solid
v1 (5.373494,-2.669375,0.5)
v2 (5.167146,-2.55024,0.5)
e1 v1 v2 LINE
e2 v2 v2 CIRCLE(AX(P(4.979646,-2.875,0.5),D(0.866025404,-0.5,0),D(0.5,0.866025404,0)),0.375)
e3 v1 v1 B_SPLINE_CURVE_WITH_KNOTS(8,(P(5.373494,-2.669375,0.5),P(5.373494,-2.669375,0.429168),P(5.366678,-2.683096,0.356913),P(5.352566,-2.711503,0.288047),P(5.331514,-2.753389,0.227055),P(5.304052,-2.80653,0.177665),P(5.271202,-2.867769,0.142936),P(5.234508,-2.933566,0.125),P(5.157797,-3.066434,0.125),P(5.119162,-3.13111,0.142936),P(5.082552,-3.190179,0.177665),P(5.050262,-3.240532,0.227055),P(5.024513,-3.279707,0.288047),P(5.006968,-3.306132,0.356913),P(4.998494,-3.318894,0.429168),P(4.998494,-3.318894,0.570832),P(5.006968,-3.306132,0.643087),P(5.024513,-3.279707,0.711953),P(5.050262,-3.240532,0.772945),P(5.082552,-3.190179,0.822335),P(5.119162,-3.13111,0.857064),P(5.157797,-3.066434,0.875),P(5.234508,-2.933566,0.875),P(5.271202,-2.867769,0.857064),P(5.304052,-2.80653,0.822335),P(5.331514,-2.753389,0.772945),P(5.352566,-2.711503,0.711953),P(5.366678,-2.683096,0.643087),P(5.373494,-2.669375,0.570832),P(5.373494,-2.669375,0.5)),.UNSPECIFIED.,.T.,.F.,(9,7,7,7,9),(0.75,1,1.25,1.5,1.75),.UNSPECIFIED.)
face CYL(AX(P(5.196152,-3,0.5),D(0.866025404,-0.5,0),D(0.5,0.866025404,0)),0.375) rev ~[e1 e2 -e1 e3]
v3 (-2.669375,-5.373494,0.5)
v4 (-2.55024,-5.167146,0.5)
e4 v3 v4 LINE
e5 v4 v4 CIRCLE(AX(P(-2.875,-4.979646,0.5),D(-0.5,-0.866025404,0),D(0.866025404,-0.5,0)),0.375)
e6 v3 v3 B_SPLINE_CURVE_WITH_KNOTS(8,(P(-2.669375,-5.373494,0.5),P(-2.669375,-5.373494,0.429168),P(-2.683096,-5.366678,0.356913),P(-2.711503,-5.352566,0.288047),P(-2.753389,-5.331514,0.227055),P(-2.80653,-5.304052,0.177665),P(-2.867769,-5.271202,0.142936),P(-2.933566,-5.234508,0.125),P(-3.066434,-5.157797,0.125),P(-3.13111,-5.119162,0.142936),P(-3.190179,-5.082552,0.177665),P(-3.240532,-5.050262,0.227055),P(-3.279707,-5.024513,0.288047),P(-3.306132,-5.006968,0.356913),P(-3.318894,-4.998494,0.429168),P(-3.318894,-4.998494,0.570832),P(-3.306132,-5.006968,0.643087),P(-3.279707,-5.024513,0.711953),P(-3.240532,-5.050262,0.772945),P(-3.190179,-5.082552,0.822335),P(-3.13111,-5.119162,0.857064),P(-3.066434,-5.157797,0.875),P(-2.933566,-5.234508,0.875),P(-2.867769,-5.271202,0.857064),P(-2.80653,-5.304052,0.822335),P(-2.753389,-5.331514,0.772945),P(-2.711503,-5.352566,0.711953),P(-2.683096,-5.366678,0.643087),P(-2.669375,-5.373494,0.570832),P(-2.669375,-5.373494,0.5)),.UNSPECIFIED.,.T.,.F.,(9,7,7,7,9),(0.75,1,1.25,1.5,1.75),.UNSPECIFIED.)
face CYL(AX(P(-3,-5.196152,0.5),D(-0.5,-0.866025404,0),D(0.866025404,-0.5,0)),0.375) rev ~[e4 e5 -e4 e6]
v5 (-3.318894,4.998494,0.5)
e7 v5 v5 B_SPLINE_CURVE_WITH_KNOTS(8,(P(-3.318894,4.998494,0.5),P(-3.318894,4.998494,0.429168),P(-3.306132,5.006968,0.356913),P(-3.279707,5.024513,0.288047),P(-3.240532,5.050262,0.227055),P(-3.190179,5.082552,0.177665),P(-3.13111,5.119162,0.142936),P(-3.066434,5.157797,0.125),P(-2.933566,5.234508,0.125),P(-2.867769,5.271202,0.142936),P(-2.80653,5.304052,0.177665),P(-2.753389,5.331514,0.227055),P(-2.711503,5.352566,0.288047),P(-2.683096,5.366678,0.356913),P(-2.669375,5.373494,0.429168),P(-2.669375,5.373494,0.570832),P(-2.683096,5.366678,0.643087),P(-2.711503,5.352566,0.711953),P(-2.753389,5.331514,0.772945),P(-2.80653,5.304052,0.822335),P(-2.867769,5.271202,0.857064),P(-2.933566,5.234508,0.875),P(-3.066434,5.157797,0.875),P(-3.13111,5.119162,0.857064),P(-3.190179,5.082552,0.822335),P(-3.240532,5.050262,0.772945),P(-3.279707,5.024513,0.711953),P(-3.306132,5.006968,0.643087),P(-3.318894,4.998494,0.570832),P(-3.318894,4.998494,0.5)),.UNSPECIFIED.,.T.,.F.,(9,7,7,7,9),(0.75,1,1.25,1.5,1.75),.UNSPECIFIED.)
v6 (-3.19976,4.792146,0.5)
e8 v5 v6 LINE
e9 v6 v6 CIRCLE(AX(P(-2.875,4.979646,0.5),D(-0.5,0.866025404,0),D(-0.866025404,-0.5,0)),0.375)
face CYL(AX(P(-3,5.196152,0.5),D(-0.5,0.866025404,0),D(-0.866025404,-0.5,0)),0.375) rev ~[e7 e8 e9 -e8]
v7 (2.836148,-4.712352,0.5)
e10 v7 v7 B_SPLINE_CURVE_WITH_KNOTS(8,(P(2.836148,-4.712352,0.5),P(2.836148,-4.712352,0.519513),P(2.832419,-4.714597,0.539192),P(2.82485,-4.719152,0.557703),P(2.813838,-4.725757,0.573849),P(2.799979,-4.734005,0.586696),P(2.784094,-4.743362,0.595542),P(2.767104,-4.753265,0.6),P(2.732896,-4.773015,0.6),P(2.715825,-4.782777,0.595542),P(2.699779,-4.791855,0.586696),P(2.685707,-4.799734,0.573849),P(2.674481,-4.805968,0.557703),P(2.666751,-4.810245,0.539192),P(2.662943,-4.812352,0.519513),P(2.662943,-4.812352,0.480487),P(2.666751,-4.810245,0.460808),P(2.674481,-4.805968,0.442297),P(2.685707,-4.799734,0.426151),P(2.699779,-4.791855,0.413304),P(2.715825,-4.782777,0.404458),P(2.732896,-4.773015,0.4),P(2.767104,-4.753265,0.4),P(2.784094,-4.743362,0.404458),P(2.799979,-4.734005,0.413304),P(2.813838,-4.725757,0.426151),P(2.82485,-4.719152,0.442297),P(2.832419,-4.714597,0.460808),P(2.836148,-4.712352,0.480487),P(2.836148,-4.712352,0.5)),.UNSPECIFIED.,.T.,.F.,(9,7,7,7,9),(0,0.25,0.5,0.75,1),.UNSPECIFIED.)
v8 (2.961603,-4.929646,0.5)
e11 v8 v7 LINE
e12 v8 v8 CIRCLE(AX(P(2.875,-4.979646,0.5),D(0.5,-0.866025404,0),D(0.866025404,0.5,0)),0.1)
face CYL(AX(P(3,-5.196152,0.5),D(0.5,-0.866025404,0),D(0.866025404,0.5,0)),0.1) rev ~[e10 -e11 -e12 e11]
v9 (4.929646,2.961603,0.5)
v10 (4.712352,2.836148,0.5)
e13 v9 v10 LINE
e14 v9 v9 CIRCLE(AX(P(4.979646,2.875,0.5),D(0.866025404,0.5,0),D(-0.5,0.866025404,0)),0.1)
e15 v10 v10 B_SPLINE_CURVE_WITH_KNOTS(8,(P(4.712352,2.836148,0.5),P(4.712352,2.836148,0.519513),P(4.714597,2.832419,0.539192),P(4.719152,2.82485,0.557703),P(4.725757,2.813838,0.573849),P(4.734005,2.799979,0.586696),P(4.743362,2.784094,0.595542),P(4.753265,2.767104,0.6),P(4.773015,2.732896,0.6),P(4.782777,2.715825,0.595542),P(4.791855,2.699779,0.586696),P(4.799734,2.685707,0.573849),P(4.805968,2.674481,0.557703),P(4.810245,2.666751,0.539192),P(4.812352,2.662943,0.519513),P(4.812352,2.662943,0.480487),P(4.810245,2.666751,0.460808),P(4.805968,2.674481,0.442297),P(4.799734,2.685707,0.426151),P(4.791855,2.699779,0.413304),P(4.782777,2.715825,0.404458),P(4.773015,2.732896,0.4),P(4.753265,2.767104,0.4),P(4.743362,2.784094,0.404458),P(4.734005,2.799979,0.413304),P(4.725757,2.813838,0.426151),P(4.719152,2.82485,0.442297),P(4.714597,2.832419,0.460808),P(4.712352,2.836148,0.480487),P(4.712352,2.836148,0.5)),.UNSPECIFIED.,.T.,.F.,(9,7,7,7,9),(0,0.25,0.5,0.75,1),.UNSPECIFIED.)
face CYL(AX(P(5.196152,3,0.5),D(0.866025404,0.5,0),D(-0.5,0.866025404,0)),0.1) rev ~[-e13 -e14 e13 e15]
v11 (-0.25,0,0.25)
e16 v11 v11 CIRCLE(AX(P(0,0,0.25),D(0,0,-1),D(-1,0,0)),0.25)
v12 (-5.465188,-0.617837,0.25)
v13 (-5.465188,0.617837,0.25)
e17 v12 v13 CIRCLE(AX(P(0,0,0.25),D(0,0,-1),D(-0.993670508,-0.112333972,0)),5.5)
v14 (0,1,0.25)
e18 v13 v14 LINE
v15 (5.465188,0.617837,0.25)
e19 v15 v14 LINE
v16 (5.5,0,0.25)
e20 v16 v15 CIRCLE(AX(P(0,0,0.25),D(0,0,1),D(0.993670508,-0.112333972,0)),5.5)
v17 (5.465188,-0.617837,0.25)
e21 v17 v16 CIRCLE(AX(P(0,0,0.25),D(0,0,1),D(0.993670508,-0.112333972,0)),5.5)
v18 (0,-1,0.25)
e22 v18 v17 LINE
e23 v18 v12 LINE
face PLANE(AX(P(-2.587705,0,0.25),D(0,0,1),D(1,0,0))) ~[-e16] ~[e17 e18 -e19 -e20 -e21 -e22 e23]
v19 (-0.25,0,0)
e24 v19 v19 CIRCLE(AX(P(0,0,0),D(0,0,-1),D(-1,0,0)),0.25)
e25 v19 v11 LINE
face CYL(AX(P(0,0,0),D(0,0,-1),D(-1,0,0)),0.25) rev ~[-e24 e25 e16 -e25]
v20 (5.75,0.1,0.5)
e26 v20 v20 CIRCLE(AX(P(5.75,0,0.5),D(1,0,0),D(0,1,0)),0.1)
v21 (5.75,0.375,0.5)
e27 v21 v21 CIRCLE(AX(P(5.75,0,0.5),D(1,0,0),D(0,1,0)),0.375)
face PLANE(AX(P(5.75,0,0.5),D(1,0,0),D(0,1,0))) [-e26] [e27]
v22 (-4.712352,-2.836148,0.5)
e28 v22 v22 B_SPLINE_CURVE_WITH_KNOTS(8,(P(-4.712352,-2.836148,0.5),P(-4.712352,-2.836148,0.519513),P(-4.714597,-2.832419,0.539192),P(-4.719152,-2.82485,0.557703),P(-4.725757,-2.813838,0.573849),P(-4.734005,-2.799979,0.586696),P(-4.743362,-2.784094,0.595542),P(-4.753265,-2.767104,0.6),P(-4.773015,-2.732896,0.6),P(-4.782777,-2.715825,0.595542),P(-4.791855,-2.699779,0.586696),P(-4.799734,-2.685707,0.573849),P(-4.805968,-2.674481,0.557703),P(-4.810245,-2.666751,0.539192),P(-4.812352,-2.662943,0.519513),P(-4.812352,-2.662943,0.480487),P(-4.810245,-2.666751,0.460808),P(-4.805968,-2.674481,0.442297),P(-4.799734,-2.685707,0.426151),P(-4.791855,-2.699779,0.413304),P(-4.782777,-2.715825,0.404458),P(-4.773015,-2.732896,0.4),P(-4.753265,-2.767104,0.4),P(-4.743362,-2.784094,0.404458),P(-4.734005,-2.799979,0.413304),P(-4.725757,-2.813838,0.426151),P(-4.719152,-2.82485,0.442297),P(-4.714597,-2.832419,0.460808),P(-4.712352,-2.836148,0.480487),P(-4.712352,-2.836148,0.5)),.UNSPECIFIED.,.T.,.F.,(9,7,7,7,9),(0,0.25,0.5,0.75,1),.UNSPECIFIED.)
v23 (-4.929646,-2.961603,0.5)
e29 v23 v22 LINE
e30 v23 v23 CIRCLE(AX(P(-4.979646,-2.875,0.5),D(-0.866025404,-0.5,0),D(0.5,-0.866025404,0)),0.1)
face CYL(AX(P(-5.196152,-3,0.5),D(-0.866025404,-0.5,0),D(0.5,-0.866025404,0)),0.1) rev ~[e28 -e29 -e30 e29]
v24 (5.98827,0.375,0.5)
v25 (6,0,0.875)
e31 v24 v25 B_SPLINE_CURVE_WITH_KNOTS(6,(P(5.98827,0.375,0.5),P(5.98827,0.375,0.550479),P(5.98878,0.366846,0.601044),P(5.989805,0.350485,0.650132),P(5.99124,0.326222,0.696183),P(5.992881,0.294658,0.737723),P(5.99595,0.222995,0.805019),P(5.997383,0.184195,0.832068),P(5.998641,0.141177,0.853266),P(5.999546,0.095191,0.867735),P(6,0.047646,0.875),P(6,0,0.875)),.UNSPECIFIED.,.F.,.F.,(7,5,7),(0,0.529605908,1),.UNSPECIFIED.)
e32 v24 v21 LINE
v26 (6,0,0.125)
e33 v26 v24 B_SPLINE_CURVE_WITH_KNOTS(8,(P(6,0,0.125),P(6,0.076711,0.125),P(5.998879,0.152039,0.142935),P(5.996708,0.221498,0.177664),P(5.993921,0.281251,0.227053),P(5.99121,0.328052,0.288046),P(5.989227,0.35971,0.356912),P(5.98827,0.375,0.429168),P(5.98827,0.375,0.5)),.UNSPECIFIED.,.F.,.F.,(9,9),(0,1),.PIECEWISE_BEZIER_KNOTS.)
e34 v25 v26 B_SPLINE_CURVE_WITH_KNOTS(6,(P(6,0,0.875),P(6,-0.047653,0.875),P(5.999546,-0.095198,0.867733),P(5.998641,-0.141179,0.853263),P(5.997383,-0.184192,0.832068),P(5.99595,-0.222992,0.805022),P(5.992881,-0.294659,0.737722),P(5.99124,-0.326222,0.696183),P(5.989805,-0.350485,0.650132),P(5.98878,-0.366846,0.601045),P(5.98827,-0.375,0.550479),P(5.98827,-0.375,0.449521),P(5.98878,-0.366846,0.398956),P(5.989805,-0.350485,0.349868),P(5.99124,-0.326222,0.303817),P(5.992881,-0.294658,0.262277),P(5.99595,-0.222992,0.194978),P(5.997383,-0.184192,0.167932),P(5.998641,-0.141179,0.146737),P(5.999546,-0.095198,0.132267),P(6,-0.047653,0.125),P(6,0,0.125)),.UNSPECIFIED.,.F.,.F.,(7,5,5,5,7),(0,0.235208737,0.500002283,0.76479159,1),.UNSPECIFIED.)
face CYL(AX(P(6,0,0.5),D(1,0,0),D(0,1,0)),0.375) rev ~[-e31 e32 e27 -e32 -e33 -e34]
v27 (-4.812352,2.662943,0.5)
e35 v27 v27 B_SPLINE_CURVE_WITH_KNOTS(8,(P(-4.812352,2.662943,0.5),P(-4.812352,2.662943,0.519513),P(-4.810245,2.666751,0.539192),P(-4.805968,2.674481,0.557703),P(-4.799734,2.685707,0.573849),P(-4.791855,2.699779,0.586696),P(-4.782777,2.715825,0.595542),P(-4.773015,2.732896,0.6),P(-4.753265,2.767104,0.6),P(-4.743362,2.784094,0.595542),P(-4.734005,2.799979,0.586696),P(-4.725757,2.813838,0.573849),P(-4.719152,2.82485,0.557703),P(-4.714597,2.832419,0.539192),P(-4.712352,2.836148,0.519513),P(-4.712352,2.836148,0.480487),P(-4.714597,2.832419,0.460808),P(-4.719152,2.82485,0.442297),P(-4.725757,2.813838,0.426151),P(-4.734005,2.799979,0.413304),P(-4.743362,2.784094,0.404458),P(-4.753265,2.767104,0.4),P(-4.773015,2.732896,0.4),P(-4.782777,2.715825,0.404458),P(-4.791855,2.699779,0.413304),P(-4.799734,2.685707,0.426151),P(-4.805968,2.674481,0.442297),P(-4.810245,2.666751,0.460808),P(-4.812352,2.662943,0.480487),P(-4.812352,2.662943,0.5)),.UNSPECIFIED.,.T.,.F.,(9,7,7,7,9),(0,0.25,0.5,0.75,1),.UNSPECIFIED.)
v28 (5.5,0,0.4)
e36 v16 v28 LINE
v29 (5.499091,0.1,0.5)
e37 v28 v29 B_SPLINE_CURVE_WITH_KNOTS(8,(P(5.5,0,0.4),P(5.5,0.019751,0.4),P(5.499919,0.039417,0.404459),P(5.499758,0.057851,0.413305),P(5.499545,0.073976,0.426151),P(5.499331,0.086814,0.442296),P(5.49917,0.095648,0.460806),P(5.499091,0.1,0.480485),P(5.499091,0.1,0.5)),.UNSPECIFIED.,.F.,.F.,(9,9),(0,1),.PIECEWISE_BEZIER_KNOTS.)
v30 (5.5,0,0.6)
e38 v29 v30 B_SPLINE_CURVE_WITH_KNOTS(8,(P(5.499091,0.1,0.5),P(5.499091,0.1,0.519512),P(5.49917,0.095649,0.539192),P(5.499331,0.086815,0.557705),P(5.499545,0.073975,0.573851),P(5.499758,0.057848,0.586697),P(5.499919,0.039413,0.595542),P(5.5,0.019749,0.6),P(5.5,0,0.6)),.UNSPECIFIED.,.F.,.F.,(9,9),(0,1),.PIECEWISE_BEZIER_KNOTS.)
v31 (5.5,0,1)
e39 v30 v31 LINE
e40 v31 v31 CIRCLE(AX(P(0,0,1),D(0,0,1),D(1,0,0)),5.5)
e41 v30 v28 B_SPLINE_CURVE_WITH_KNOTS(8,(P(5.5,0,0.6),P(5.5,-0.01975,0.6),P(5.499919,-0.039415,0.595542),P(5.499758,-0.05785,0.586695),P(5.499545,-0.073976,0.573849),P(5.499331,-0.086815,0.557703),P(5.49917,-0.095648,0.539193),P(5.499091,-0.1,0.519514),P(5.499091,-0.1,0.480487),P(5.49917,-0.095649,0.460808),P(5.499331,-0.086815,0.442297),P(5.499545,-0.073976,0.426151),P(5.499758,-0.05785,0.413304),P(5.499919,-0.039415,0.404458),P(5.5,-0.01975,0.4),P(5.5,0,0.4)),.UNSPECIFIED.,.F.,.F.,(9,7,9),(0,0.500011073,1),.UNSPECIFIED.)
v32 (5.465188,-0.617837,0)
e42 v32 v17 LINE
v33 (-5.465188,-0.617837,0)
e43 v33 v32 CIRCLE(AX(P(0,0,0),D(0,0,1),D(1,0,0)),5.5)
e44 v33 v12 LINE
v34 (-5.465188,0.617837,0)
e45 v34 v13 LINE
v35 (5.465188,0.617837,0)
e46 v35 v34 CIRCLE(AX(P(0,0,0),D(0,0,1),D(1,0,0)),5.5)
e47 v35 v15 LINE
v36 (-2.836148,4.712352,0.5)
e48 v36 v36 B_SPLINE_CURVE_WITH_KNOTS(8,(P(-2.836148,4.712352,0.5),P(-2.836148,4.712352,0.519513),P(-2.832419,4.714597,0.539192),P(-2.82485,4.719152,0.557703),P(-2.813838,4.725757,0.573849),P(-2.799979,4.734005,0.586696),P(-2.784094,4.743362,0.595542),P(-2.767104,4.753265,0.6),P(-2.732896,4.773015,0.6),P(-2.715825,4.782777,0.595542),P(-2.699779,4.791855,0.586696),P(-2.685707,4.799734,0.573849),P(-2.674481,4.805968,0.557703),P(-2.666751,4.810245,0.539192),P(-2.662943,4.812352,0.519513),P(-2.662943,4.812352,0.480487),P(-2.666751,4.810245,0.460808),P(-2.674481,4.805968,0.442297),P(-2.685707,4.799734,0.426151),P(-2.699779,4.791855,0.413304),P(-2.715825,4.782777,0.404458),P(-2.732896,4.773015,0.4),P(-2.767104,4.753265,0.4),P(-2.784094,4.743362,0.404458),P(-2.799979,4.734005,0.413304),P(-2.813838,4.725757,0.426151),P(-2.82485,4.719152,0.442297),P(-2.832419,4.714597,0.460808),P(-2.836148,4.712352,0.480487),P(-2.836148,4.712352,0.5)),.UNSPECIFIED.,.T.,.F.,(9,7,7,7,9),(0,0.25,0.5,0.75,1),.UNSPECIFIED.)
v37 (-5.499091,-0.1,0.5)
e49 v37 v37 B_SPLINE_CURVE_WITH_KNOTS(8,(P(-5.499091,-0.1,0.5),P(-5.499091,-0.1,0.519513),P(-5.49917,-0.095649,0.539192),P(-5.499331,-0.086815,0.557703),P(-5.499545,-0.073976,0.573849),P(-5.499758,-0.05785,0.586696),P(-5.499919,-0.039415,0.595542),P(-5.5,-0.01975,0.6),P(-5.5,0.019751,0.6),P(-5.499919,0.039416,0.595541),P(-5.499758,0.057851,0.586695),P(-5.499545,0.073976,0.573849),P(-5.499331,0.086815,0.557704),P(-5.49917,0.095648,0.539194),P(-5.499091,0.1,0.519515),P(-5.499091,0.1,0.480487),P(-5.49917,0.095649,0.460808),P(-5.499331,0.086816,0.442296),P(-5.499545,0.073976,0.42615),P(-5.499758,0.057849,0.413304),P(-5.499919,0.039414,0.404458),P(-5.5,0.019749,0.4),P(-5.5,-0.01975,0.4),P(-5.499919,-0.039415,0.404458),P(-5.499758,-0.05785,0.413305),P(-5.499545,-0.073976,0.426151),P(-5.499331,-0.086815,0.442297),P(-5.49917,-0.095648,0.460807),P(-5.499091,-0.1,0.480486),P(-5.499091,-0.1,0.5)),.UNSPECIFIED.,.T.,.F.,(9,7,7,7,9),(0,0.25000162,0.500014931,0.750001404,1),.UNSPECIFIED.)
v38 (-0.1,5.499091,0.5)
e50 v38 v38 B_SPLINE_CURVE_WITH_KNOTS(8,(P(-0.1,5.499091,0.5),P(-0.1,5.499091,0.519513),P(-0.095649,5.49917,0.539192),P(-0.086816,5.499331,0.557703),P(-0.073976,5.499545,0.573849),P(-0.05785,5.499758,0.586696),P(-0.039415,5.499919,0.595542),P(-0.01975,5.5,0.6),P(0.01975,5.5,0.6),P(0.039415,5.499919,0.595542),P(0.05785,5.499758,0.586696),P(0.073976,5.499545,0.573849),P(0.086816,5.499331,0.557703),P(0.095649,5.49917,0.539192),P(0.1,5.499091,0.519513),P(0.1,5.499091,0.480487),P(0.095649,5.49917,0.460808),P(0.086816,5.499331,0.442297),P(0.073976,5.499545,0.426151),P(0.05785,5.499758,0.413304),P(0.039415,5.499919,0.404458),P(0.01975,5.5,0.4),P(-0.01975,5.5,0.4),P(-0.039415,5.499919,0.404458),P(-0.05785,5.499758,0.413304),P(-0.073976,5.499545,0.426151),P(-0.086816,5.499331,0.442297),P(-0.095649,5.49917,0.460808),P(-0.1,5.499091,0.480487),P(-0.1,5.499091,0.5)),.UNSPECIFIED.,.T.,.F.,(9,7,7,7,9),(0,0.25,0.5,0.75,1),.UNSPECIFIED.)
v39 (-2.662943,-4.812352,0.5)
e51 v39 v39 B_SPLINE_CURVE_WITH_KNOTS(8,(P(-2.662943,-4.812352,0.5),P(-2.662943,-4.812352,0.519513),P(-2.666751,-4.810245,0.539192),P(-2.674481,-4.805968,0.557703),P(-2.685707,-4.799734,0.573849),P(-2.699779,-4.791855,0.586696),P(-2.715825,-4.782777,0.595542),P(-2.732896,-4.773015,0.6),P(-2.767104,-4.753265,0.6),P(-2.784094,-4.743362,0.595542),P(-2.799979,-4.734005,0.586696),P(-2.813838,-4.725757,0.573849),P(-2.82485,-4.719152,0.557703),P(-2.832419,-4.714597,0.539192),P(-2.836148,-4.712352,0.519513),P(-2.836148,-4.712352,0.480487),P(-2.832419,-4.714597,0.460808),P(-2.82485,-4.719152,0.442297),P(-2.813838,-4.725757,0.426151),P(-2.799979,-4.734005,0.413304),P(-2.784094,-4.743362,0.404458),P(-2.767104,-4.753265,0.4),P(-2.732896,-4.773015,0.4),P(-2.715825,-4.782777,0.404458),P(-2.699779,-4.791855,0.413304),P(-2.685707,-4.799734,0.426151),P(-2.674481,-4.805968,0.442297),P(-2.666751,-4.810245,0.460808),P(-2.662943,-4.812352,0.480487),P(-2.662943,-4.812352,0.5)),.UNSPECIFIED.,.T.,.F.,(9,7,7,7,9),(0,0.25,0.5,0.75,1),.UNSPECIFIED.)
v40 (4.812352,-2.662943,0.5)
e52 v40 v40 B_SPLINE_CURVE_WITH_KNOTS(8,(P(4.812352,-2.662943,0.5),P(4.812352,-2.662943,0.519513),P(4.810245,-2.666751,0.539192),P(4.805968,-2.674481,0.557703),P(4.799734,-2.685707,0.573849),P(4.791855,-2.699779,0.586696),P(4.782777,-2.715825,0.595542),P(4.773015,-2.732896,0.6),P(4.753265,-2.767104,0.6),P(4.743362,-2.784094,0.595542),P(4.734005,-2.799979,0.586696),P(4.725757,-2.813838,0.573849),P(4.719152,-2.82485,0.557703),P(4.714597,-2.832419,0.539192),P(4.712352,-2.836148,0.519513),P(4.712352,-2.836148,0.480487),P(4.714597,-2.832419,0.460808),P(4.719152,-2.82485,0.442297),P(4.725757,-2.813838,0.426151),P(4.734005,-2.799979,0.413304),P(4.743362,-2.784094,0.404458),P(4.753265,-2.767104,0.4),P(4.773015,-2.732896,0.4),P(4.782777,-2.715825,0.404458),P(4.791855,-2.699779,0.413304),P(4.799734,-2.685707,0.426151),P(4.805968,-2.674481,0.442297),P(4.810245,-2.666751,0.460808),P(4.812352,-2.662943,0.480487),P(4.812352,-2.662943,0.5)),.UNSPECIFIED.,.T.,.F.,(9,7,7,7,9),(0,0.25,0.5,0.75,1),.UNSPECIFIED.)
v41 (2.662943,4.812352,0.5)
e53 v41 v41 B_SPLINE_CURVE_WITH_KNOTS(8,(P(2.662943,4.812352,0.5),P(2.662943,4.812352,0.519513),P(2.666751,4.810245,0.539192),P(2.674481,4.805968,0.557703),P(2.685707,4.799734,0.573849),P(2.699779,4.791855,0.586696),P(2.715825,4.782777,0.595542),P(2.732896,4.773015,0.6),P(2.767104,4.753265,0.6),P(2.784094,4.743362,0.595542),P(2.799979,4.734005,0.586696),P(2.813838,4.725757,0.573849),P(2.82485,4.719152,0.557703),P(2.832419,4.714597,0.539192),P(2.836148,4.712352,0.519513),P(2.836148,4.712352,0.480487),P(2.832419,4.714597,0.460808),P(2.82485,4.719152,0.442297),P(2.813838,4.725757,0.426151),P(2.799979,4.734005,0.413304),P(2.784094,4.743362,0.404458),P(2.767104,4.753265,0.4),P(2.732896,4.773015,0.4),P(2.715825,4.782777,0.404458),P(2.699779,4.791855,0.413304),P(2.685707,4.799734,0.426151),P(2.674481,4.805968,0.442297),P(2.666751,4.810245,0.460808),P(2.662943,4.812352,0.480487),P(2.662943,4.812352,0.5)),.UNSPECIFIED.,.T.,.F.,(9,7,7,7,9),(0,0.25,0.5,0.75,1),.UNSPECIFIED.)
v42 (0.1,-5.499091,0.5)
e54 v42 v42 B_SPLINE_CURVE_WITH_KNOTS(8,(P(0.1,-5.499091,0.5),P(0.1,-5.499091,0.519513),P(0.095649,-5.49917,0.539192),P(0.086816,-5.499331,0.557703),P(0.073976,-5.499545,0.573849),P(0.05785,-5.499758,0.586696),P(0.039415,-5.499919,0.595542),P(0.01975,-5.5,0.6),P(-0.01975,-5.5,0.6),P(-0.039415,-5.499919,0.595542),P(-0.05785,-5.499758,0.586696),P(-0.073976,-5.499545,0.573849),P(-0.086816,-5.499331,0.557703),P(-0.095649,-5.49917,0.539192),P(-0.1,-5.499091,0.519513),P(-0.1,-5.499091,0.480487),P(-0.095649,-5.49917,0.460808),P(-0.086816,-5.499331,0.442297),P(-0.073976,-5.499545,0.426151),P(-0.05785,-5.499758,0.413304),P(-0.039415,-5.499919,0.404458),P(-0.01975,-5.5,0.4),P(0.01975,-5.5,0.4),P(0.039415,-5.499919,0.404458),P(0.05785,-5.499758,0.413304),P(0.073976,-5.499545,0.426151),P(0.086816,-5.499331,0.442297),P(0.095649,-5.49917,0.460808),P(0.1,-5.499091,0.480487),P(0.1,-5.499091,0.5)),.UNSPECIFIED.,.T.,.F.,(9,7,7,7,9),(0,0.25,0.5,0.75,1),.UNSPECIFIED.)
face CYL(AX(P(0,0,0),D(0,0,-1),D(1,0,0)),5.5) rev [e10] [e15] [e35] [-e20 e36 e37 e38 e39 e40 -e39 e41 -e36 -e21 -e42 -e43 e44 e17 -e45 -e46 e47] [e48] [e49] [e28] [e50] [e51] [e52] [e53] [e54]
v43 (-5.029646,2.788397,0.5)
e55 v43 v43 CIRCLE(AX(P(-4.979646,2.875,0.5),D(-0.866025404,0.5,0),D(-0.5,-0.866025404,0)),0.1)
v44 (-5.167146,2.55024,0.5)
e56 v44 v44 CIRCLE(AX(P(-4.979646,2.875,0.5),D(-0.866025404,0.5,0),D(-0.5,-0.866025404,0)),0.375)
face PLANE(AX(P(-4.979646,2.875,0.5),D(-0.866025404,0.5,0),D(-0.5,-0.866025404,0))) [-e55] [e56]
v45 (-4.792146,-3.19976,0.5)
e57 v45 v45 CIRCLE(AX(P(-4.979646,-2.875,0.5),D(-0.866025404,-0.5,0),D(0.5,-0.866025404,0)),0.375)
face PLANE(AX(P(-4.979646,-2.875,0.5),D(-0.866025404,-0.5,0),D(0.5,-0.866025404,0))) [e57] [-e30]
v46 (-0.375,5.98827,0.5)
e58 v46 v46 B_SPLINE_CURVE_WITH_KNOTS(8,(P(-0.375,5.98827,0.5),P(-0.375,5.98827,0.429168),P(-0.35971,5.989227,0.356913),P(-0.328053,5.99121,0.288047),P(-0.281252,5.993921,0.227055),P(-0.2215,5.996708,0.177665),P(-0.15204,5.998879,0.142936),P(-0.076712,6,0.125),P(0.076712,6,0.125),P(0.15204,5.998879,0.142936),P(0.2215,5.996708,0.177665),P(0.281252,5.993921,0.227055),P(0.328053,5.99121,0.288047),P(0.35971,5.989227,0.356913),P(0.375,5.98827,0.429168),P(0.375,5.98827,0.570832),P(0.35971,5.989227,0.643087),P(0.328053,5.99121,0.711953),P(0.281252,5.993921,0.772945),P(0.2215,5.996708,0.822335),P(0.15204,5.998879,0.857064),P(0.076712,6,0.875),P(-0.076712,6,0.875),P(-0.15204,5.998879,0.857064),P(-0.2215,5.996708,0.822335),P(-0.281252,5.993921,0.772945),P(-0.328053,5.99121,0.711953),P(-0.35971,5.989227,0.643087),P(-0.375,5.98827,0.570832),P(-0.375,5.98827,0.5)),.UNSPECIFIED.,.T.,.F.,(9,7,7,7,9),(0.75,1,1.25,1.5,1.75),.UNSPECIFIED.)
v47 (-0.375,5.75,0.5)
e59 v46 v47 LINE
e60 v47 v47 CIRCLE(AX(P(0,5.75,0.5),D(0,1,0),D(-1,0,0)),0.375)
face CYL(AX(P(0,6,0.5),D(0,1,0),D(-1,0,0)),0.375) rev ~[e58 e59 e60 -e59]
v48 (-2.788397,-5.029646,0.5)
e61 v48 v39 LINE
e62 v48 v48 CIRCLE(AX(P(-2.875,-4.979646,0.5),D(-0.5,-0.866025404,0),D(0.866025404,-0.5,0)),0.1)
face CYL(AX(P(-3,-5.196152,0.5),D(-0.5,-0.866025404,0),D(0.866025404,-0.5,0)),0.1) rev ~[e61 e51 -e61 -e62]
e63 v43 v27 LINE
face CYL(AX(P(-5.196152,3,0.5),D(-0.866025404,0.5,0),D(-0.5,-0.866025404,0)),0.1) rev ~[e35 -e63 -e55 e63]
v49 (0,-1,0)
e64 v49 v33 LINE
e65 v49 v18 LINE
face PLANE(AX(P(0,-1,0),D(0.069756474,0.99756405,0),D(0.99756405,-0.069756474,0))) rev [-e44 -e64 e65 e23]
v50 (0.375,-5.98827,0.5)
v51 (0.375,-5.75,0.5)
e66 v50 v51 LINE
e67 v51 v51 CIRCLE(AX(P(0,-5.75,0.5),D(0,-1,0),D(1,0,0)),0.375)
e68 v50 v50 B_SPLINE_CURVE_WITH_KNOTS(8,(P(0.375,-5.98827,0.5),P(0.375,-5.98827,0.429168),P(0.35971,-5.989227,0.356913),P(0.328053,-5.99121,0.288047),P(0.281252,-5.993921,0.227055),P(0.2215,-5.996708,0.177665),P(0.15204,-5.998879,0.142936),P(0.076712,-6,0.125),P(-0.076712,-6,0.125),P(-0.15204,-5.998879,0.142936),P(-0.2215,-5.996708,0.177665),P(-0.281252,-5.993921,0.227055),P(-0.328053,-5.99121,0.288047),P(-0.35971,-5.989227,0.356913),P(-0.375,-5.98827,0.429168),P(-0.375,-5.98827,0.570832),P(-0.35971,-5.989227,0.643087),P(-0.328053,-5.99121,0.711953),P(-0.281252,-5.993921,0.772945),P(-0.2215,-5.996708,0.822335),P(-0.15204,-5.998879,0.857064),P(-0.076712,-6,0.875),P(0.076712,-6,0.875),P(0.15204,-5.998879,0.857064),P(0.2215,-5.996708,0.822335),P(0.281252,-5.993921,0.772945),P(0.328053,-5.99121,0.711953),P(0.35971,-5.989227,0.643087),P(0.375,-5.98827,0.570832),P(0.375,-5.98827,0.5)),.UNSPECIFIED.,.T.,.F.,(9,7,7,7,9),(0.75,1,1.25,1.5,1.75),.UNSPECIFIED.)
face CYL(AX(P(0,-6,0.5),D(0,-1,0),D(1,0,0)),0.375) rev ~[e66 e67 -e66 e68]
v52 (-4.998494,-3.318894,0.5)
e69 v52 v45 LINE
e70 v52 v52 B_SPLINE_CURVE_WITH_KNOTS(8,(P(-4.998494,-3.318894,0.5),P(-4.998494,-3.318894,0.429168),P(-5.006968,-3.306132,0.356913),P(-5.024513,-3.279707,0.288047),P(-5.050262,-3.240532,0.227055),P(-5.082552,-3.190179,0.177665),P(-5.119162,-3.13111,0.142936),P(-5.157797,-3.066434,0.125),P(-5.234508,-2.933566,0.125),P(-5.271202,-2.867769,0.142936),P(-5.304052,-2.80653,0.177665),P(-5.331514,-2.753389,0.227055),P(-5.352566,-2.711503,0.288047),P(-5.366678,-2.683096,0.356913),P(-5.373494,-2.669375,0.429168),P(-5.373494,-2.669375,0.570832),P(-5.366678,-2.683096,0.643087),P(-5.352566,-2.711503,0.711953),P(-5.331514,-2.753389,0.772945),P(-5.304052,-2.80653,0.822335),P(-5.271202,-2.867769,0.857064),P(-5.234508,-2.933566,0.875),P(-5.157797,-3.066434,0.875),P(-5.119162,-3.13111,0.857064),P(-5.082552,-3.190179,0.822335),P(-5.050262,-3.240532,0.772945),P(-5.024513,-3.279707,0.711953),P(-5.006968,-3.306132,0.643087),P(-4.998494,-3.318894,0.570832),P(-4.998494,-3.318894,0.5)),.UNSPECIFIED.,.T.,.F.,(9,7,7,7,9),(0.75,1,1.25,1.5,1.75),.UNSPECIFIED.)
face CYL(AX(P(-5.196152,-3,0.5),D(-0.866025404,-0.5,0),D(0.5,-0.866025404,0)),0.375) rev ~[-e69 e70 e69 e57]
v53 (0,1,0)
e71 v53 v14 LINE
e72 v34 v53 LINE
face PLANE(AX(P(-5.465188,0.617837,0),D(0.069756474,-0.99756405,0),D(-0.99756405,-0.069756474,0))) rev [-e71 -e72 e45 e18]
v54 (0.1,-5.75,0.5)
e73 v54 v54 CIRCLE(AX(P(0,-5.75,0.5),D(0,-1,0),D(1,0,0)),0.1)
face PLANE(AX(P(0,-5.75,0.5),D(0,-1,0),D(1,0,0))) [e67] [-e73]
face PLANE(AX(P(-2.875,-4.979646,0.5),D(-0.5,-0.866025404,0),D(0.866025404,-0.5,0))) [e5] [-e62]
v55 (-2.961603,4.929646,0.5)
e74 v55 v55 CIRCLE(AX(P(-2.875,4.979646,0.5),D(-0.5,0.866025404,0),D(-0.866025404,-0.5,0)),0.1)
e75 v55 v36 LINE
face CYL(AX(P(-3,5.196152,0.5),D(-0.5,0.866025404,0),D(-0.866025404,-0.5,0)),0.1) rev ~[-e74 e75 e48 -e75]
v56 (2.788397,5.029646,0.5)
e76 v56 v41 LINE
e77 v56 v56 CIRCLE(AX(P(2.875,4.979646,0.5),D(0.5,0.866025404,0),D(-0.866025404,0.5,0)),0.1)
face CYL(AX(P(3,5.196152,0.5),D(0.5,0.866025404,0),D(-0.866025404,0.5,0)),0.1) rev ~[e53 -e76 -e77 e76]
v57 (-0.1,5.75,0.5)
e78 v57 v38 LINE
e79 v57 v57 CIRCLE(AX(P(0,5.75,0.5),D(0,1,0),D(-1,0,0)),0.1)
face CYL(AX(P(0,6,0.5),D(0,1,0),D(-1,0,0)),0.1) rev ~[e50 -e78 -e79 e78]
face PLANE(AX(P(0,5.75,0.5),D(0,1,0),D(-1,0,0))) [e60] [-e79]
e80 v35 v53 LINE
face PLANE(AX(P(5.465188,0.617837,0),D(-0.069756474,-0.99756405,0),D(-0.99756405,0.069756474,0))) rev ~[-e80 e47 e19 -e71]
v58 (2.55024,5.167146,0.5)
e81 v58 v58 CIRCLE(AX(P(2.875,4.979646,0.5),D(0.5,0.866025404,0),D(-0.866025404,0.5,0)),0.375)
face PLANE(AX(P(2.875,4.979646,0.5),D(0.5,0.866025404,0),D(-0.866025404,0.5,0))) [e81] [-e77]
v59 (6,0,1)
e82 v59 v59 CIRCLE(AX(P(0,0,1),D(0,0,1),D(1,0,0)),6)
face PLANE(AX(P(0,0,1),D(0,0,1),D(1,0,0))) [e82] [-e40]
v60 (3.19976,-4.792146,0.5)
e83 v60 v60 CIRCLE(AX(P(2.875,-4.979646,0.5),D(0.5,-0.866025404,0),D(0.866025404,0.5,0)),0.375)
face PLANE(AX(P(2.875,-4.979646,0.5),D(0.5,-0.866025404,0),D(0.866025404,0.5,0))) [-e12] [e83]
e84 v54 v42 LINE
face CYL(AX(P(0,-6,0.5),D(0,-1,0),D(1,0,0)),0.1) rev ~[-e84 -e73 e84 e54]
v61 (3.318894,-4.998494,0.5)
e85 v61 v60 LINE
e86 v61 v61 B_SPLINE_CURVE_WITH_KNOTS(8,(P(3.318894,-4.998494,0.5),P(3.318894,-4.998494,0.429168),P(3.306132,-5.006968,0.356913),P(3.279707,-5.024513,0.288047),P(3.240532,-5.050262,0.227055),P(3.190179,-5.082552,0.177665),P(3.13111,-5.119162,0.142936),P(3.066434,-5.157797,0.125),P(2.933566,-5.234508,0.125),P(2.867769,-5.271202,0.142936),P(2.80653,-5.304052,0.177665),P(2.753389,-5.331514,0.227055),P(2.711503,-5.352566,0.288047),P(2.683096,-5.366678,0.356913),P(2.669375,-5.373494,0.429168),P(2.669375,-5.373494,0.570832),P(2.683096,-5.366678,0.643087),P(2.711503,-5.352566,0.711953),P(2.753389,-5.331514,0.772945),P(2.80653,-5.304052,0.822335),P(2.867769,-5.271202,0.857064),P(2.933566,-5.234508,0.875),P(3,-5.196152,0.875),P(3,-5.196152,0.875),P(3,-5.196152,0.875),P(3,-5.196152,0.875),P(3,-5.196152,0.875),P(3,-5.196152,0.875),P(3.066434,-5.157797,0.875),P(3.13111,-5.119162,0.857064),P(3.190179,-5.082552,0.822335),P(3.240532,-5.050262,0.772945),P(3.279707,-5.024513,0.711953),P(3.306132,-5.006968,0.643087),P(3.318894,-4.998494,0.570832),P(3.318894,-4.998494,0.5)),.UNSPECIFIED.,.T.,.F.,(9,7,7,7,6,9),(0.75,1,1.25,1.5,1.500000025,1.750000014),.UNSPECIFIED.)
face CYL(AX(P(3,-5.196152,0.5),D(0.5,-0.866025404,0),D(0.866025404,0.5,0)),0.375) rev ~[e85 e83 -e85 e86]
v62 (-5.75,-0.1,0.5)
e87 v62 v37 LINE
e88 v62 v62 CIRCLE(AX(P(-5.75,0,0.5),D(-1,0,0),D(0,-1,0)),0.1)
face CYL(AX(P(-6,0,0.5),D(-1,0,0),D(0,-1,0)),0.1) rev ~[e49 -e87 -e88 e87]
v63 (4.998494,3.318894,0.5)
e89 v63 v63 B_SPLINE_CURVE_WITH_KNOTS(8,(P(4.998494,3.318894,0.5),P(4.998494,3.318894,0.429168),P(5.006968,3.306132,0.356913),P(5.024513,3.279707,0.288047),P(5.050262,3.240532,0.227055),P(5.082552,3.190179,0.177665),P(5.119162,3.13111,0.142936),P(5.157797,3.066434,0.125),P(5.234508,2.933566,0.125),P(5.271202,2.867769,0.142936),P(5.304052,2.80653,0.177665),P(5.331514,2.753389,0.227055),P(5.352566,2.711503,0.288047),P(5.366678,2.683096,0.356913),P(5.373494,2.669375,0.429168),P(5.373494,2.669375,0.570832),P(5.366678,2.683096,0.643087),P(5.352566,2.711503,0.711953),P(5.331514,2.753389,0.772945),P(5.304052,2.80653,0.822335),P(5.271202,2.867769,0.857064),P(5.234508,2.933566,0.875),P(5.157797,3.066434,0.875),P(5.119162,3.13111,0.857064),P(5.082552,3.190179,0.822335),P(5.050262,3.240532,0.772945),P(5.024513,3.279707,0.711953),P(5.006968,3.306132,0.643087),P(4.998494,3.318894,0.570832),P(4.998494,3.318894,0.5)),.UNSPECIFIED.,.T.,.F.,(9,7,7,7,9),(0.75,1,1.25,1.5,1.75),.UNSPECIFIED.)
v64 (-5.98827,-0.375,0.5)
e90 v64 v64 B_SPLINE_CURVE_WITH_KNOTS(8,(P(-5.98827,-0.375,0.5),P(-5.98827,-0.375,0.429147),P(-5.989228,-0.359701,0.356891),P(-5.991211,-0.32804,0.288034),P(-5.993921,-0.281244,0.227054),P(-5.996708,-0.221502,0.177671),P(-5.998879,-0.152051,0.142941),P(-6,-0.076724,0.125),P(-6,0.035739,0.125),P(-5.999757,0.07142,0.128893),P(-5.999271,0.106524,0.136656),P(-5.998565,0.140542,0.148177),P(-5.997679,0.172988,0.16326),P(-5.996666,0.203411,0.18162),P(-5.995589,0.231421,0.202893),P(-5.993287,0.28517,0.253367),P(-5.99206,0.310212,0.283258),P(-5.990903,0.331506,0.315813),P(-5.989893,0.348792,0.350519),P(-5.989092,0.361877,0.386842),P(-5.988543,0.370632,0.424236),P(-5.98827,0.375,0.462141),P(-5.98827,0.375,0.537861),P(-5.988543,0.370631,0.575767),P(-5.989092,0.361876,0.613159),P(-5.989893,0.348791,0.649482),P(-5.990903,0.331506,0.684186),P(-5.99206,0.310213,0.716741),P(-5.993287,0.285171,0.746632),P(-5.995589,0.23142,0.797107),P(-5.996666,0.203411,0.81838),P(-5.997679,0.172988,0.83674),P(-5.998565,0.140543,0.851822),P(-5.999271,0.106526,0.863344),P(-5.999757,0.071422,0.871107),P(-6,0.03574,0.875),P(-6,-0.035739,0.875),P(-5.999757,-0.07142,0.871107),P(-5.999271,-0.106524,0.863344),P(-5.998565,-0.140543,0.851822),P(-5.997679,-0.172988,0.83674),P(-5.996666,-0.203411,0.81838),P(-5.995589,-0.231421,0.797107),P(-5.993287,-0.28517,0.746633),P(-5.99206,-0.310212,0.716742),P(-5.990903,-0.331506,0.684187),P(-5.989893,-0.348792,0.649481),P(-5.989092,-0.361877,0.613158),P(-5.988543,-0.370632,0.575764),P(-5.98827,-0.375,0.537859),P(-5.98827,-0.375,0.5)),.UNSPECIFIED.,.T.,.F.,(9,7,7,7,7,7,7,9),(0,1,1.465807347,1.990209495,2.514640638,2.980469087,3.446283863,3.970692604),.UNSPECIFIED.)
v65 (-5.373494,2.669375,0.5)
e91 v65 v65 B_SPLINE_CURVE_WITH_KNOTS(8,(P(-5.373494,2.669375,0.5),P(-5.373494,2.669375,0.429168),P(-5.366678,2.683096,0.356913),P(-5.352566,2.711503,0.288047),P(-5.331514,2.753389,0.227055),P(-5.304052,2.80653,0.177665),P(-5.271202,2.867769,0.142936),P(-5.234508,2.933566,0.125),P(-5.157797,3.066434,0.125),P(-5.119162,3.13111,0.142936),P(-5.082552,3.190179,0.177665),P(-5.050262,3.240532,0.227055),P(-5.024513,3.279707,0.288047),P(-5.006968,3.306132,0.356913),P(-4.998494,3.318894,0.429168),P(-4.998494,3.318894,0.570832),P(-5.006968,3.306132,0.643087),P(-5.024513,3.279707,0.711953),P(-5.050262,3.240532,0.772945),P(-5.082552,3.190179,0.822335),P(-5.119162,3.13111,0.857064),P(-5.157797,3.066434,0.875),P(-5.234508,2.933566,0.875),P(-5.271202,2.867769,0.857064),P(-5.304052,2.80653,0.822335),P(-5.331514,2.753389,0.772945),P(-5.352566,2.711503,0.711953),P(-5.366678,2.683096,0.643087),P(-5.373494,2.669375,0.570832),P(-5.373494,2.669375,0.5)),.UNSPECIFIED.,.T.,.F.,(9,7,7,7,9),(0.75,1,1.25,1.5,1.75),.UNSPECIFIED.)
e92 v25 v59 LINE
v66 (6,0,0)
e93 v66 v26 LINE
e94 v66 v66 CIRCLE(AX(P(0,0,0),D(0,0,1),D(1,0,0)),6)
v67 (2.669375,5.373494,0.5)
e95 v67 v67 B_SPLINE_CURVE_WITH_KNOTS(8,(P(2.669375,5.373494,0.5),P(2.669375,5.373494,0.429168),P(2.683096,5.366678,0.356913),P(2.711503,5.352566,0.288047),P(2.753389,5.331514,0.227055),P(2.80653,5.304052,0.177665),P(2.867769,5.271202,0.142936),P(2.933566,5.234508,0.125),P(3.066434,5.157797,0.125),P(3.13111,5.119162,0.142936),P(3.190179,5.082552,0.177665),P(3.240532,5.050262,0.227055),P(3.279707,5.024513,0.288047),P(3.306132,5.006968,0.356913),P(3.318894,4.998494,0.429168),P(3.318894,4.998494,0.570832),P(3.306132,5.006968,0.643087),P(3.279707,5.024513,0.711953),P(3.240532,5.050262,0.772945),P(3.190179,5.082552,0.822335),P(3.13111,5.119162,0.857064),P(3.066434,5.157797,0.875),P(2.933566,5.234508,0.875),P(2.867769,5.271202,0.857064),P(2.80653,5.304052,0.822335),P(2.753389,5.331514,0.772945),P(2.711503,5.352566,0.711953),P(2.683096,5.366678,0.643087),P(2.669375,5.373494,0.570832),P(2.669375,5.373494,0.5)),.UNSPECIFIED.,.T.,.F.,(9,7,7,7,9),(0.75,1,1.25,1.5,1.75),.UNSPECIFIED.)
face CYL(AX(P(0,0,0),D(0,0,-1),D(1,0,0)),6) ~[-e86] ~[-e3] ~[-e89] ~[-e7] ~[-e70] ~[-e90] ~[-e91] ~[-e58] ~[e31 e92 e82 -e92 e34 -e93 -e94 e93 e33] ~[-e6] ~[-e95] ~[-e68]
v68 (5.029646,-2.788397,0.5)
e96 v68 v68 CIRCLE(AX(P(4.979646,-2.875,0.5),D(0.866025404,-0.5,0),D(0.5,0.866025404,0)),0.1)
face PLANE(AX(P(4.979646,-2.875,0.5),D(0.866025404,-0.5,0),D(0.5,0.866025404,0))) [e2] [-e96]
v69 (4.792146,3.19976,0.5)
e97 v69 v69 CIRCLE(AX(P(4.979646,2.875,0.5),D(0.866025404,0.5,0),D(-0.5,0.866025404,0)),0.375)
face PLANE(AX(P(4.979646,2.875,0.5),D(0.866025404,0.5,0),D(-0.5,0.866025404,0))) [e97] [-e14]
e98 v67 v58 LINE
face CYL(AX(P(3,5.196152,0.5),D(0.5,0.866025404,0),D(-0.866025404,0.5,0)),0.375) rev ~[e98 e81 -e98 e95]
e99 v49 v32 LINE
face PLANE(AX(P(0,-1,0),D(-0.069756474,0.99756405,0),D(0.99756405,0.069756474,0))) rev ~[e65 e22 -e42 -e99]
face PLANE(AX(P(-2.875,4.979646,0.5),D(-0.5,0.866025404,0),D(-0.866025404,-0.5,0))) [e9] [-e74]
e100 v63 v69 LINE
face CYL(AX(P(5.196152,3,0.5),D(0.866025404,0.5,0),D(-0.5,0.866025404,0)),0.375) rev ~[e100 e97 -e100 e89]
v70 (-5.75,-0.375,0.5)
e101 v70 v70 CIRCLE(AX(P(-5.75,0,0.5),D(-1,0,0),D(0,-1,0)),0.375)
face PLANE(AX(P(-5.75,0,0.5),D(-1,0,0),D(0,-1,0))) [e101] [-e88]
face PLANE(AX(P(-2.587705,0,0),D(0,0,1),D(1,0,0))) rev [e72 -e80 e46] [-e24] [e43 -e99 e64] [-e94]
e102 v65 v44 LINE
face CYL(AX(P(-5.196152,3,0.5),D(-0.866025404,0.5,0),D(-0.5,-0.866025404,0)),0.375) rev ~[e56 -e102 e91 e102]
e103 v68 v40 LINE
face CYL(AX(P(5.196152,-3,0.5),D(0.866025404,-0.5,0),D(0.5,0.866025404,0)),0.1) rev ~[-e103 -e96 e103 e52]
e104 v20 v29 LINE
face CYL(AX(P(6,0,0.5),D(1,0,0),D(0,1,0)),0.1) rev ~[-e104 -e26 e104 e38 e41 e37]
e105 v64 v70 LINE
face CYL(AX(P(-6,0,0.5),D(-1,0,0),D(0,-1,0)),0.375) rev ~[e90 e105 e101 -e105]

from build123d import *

# Parameters (mm, degrees)
CROQUIS1_R              = 6
CROQUIS1_R_2            = 5.5
SALIENTE_EXTRUIR1_DEPTH = 1
SALIENTE_EXTRUIR2_DEPTH = 0.25
CROQUIS8_R              = 0.1
CORTAR_EXTRUIR4_DEPTH   = 1
CROQUIS9_R              = 0.375
CORTAR_EXTRUIR5_DEPTH   = 0.25
MATRIZC7_COUNT          = 12
CROQUIS10_R             = 0.25
CORTAR_EXTRUIR6_DEPTH   = 10


with BuildPart() as part:
    # Croquis1 → Saliente-Extruir1 (new body)
    with BuildSketch(Plane.XY):
        Circle(CROQUIS1_R)
        Circle(CROQUIS1_R_2, mode=Mode.SUBTRACT)
    extrude(amount=SALIENTE_EXTRUIR1_DEPTH)

    # Croquis5 → Saliente-Extruir2 (add)
    with BuildSketch(Plane.XY):
        with BuildLine():
            Line((0, 1), (0, -1))
            Line((0, -1), (5.465187795, -0.617836841))
            ThreePointArc((5.465187795, -0.617836841), (5.5, 0), (5.465187795, 0.617836841))
            Line((5.465187795, 0.617836841), (0, 1))
        make_face()
    saliente_extruir2 = extrude(amount=SALIENTE_EXTRUIR2_DEPTH)

    # Simetría1: Saliente-Extruir2 across Right Plane
    add(saliente_extruir2.mirror(Plane(origin=(0, 0, 0), x_dir=(0, 0, -1), z_dir=(1, 0, 0))))

    # Croquis8 → Cortar-Extruir4 (cut)
    with BuildSketch(Plane(origin=(0, 6, 0), x_dir=(-1, 0, 0), z_dir=(0, 1, 0))):
        with Locations((0, 0.5)):
            Circle(CROQUIS8_R)
    cortar_extruir4 = extrude(amount=-CORTAR_EXTRUIR4_DEPTH, mode=Mode.SUBTRACT)

    # Croquis9 → Cortar-Extruir5 (cut)
    with BuildSketch(Plane(origin=(0, 6, 0), x_dir=(-1, 0, 0), z_dir=(0, 1, 0))):
        with Locations((0, 0.5)):
            Circle(CROQUIS9_R)
    cortar_extruir5 = extrude(amount=-CORTAR_EXTRUIR5_DEPTH, mode=Mode.SUBTRACT)

    # MatrizC7: Cortar-Extruir4, Cortar-Extruir5 ×12 about axis
    matrizc7_axis = Axis((0, 0, 0), (0, 0, 1))
    for i in range(1, MATRIZC7_COUNT):
        add(cortar_extruir4.rotate(matrizc7_axis, i * 360 / MATRIZC7_COUNT), mode=Mode.SUBTRACT)
        add(cortar_extruir5.rotate(matrizc7_axis, i * 360 / MATRIZC7_COUNT), mode=Mode.SUBTRACT)

    # Croquis10 → Cortar-Extruir6 (cut)
    with BuildSketch(Plane(origin=(0, 0, 0), x_dir=(-1, 0, 0), z_dir=(0, 0, -1))):
        Circle(CROQUIS10_R)
    extrude(amount=-CORTAR_EXTRUIR6_DEPTH, mode=Mode.SUBTRACT)


solid = part.part
